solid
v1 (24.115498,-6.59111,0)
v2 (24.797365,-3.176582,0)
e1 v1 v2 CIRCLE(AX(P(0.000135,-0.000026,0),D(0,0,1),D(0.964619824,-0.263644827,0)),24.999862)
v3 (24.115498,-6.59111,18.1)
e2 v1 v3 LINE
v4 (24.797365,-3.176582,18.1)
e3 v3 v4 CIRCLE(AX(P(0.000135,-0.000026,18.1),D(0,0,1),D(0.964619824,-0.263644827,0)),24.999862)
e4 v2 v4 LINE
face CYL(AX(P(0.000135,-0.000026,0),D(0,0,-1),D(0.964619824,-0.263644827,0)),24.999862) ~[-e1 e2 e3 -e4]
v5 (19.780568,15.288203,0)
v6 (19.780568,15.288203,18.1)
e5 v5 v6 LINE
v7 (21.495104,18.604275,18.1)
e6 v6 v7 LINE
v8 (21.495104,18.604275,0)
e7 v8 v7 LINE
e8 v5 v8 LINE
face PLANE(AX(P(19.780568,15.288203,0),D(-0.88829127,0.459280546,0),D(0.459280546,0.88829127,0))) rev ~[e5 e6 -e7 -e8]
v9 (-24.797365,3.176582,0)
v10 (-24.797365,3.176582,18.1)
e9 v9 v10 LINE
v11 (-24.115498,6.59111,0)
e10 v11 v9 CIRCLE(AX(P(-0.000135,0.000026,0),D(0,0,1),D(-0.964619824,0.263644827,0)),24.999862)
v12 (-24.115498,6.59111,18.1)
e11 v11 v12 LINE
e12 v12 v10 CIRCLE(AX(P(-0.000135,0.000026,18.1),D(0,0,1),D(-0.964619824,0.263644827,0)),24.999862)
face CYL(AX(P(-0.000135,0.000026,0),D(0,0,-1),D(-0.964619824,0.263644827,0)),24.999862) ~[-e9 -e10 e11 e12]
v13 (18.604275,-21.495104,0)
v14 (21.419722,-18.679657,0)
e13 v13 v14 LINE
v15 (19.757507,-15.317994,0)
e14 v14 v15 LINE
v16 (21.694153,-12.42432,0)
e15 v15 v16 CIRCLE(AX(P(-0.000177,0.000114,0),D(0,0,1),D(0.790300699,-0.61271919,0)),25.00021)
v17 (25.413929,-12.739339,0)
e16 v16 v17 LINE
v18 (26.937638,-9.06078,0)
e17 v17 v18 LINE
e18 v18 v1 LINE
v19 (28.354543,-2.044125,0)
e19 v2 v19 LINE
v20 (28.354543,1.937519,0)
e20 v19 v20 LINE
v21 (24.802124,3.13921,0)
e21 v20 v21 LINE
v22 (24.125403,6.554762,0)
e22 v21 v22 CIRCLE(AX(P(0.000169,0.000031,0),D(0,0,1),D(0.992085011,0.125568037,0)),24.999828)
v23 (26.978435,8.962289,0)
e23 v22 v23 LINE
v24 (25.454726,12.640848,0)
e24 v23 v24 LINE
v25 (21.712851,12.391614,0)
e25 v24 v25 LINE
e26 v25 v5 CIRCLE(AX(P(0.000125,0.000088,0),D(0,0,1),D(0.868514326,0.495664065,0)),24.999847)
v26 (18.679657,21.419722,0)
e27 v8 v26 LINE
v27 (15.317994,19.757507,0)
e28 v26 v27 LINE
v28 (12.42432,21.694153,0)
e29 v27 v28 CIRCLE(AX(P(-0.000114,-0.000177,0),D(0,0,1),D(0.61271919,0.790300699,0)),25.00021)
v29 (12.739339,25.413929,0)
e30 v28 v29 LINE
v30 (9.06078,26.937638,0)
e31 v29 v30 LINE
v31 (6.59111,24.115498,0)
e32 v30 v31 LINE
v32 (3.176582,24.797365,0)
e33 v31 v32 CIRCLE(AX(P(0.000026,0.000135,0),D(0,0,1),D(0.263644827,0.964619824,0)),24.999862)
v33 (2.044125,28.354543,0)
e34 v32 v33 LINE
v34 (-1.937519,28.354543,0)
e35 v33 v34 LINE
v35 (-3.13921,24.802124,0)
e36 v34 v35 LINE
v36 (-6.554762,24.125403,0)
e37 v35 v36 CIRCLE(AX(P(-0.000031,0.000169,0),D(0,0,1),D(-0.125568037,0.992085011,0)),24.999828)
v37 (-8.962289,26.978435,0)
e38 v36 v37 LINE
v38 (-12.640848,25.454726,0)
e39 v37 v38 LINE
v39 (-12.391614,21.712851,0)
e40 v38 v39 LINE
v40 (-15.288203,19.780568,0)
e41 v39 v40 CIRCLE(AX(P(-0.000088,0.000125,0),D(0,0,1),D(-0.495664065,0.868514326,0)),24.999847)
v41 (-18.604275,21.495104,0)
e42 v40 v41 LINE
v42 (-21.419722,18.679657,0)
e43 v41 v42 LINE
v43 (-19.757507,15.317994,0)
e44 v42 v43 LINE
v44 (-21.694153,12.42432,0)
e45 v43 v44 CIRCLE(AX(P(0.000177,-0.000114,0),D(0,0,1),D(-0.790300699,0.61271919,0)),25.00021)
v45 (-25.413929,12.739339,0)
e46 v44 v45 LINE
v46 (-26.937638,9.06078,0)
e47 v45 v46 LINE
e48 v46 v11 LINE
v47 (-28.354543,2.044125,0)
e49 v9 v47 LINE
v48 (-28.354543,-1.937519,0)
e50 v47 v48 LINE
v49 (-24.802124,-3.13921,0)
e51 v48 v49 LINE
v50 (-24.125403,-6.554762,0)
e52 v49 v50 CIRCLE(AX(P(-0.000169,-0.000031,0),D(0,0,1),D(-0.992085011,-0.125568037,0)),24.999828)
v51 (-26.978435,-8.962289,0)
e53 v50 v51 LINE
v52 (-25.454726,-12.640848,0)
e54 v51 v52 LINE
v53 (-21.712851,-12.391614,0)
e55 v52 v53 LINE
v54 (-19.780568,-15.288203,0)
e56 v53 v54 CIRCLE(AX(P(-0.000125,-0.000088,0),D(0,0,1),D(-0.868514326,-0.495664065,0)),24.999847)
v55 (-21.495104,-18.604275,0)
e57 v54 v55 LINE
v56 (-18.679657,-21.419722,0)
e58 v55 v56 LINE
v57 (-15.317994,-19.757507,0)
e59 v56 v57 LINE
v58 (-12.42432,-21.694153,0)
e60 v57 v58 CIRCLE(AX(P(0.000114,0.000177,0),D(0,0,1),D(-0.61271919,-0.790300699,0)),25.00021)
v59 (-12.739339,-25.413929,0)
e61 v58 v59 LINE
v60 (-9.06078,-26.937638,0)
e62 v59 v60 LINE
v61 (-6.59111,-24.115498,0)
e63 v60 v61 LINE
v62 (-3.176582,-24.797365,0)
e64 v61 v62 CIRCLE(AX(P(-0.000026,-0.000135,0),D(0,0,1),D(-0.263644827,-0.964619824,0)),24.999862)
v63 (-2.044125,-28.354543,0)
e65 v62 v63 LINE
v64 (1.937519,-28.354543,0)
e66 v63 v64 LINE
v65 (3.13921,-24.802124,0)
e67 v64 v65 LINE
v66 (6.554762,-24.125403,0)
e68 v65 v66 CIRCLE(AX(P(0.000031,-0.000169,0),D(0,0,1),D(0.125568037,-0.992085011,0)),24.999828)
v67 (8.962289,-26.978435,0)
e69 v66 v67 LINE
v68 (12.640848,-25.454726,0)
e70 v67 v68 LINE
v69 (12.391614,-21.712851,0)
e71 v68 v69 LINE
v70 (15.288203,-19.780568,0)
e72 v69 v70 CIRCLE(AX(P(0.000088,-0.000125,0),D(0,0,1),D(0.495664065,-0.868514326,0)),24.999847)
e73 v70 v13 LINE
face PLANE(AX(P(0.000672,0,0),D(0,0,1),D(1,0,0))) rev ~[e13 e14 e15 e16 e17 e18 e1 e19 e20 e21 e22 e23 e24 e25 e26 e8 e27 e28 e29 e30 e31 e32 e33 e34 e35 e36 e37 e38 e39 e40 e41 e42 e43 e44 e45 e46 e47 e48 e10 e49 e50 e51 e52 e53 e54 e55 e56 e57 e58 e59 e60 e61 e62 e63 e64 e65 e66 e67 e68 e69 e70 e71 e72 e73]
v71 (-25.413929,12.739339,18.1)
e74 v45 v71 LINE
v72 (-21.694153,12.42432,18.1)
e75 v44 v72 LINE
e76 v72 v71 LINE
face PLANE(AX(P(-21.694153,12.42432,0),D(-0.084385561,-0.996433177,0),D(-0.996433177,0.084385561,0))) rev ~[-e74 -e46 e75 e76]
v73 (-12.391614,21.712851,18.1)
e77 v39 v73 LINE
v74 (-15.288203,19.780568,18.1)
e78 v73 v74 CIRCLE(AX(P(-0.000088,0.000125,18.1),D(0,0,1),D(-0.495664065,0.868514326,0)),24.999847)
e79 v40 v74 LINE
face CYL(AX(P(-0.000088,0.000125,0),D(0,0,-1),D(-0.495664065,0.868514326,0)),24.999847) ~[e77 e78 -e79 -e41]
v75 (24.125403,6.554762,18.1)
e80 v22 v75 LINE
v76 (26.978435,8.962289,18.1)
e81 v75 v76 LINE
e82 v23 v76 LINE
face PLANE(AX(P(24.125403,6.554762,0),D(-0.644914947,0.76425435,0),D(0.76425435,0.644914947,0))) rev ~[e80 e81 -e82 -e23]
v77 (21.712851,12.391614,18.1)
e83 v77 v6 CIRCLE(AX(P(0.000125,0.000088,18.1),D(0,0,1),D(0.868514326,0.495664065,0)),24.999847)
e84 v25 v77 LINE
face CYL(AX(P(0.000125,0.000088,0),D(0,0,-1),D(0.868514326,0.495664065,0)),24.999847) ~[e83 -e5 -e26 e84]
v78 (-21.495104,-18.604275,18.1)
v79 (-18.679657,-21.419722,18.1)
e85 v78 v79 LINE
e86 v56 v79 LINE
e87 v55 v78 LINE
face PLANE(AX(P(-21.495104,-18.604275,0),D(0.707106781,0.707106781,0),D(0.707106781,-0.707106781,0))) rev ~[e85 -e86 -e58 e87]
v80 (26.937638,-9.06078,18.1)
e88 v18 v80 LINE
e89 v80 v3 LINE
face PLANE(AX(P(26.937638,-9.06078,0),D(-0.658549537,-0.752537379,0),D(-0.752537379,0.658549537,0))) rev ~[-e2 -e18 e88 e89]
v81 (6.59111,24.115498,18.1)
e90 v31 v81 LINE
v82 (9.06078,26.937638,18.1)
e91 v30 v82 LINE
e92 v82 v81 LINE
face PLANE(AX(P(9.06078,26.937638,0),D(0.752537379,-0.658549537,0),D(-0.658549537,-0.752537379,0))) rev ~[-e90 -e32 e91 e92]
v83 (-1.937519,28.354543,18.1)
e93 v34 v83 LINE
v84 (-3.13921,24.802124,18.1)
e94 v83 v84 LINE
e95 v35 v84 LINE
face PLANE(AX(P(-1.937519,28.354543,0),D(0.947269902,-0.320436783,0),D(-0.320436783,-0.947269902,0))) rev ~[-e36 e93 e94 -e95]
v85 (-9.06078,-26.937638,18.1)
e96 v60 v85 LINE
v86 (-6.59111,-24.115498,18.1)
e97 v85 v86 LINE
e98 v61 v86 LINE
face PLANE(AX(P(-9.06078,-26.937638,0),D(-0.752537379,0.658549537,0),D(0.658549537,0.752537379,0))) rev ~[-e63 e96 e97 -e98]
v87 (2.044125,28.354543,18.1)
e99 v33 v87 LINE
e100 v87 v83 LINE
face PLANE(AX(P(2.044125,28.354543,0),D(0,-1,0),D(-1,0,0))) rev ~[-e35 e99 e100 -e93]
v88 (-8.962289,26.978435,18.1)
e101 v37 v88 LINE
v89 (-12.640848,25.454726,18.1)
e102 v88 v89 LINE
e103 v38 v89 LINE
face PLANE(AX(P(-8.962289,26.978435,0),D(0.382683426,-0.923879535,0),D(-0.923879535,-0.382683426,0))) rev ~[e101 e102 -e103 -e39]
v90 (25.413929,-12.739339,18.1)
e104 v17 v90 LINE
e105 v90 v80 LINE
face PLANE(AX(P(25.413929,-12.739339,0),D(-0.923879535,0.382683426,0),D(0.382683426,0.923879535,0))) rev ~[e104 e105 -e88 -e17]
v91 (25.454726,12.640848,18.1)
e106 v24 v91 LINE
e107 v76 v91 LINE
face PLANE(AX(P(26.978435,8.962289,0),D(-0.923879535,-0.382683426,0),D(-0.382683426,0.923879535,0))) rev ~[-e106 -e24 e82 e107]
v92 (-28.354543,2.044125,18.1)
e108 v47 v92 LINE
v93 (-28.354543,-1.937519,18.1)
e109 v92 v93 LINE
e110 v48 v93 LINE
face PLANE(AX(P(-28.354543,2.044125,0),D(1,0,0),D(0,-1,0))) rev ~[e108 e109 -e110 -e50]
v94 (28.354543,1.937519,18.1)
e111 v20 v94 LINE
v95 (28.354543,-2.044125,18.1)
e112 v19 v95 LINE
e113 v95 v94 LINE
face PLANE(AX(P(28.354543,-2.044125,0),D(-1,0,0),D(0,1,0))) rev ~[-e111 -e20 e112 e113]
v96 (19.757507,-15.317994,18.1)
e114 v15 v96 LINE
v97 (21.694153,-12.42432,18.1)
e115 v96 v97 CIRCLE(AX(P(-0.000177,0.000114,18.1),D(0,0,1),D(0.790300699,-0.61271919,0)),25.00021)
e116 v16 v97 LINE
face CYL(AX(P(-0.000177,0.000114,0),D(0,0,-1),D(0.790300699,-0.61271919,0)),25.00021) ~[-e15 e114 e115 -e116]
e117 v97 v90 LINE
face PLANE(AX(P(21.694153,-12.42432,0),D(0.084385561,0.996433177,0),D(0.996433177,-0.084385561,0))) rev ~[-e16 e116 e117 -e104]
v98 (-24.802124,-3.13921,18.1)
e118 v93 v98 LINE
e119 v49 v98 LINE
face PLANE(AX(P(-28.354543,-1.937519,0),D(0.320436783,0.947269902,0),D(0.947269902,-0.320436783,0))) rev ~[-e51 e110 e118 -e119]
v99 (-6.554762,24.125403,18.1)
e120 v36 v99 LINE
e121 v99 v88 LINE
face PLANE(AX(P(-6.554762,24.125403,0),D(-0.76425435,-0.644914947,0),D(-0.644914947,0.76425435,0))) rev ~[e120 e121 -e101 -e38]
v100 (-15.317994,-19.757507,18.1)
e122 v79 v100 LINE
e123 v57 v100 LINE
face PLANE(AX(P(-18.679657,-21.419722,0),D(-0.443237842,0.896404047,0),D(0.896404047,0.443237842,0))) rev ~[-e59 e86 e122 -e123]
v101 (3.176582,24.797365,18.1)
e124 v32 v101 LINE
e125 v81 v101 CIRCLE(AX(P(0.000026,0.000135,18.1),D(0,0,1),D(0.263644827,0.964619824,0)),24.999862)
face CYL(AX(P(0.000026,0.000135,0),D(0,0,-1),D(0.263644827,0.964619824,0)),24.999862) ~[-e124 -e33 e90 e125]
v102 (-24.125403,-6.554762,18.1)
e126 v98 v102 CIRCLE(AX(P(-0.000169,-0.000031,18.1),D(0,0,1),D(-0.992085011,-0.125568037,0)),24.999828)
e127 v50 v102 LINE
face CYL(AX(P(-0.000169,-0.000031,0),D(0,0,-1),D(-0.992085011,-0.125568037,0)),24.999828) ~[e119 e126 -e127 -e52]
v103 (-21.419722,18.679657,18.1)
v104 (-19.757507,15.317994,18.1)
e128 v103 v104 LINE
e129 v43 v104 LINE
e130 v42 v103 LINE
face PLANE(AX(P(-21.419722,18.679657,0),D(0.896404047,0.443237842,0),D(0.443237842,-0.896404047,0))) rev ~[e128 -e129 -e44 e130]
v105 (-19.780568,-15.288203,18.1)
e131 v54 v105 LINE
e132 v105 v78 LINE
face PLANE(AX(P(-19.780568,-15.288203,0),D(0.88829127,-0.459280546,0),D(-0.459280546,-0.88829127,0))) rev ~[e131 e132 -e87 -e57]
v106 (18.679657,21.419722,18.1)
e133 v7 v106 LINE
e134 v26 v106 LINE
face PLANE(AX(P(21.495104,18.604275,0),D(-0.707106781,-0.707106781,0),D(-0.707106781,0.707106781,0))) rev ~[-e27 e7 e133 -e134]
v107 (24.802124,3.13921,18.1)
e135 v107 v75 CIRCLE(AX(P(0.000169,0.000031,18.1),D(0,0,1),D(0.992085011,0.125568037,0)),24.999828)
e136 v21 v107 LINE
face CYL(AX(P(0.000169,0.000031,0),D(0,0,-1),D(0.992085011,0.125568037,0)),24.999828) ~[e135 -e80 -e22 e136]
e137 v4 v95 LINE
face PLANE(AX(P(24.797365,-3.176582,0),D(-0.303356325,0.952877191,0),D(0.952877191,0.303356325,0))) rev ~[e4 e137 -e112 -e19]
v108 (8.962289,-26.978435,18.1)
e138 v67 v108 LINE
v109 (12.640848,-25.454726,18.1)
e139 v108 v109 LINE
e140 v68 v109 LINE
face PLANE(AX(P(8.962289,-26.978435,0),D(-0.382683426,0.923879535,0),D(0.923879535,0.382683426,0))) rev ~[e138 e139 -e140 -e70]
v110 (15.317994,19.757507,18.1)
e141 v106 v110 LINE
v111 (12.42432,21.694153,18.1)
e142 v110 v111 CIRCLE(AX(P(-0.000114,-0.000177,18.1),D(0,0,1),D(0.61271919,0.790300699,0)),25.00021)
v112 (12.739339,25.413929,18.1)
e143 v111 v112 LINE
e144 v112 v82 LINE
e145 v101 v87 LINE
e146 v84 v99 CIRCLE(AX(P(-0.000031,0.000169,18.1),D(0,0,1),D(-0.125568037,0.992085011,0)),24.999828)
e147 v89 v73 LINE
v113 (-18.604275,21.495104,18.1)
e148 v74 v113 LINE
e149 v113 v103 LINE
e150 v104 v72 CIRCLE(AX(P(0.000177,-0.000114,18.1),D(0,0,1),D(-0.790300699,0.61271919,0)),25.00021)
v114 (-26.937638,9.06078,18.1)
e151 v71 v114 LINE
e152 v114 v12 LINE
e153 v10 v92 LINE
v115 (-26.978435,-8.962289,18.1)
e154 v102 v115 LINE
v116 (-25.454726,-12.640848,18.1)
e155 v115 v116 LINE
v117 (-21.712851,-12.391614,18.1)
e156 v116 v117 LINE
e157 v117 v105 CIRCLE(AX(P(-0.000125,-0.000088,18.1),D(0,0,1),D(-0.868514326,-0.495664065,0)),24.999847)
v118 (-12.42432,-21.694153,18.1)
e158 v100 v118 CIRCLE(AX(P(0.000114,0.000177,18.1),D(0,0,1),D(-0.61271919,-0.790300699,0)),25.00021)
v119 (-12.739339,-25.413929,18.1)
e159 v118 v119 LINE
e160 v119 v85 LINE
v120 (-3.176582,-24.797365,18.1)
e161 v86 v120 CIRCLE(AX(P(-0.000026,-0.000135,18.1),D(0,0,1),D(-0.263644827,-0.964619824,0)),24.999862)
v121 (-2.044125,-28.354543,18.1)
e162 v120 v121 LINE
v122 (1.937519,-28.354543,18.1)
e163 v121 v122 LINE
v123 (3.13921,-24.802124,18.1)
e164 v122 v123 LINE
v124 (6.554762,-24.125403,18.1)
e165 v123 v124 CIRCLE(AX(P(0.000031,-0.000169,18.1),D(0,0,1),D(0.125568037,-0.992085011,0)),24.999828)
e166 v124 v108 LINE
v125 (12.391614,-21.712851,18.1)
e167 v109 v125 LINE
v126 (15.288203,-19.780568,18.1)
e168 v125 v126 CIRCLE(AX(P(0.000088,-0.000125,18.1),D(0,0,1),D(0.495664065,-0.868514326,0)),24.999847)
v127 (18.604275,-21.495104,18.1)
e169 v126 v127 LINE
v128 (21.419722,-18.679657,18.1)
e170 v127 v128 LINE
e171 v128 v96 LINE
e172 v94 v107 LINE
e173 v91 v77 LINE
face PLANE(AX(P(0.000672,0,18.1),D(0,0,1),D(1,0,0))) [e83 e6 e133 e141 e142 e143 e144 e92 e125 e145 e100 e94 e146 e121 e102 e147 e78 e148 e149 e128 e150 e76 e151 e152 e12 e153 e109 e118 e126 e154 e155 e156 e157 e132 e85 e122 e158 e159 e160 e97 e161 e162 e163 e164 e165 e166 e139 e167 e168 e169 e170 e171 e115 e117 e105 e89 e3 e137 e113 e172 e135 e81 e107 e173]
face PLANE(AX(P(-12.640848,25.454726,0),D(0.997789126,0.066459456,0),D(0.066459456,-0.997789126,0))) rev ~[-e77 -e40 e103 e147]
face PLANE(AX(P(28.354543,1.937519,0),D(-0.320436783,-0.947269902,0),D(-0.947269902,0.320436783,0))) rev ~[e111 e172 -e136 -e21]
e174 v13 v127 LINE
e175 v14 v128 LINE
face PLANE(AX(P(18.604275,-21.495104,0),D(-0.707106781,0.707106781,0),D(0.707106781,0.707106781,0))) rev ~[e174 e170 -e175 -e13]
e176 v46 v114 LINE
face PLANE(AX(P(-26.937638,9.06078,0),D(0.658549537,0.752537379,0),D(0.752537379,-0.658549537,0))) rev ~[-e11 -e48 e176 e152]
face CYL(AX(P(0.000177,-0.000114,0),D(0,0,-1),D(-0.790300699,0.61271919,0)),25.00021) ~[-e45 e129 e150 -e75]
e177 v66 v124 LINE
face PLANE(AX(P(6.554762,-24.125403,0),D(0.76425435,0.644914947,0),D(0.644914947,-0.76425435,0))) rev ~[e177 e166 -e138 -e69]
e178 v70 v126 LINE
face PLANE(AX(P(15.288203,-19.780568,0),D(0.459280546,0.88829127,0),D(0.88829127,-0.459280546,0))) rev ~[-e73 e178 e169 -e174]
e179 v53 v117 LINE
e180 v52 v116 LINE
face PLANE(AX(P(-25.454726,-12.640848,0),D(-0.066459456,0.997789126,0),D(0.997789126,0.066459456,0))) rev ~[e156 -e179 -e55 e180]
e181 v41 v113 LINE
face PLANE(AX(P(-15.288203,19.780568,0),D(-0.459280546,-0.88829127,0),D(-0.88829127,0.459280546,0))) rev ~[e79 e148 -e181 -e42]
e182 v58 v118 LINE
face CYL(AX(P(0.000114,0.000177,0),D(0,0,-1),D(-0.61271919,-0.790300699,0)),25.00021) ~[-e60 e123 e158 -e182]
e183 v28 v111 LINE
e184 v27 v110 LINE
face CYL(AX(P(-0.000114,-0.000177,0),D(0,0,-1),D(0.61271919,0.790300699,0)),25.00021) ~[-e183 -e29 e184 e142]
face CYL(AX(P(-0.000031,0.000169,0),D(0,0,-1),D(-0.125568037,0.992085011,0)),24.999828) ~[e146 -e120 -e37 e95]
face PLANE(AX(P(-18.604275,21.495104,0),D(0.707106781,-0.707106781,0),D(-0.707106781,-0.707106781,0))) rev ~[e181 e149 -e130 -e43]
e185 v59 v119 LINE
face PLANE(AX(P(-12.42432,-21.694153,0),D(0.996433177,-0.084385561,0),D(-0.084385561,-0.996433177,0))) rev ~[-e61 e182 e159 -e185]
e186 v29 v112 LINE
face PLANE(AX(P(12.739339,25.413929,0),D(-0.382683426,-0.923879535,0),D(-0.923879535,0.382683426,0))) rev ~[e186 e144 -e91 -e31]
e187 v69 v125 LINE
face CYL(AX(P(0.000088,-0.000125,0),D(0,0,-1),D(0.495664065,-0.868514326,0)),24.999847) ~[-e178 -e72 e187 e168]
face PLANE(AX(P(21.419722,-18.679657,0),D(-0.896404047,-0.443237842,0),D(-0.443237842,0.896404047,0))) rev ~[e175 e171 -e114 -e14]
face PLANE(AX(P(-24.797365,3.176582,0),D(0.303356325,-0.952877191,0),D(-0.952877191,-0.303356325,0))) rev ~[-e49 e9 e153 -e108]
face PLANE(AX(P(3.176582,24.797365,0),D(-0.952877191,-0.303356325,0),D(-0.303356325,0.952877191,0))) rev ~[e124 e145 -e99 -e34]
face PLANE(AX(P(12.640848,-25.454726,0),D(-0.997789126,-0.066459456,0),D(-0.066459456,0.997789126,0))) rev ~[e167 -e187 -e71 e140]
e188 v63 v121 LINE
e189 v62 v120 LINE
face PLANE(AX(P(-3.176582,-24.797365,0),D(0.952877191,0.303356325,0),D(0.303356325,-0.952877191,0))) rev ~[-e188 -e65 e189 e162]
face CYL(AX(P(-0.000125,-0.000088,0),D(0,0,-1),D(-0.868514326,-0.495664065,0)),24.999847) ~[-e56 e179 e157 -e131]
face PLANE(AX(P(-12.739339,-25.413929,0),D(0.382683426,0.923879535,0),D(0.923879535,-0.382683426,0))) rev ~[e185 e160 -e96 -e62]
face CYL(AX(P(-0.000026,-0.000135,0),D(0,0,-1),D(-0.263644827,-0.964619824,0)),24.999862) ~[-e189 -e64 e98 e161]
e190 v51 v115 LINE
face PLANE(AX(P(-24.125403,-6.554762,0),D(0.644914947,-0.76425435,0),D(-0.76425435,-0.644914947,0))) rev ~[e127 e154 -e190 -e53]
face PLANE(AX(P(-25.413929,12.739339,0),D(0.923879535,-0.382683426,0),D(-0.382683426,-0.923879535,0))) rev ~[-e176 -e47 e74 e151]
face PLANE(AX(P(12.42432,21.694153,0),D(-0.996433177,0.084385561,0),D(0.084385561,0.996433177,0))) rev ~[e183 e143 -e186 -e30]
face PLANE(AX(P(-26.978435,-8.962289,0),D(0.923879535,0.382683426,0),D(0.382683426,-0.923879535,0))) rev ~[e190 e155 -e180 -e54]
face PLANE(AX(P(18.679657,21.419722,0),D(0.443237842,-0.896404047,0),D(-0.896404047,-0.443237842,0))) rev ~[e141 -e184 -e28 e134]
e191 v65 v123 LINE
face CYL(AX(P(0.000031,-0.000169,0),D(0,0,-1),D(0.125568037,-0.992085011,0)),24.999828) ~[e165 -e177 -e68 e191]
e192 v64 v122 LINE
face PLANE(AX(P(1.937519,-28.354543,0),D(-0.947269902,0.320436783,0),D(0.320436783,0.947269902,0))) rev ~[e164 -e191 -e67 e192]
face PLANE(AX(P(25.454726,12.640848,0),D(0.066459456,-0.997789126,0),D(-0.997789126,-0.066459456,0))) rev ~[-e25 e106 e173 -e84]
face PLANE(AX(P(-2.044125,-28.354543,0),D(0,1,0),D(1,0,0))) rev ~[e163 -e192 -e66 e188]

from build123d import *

# Parameters (mm, degrees)
F1_DEPTH = 18.1


with BuildPart() as f1:
    # F0 (on Top) → F1 (new body)
    with BuildSketch(Plane.XY):
        with BuildLine():
            ThreePointArc((24.797365, -3.176582), (24.94929, -1.591519), (25, 0))
            ThreePointArc((25, 0), (24.950482, 1.57272), (24.802124, 3.13921))
            ThreePointArc((24.802124, 3.13921), (24.5233, 4.858782), (24.125403, 6.554762))
            ThreePointArc((24.125403, 6.554762), (23.10419, 9.54968), (21.712851, 12.391614))
            ThreePointArc((21.712851, 12.391614), (20.7972, 13.87359), (19.780568, 15.288203))
            ThreePointArc((19.780568, 15.288203), (17.690984, 17.664345), (15.317994, 19.757507))
            ThreePointArc((15.317994, 19.757507), (13.904914, 20.776269), (12.42432, 21.694153))
            ThreePointArc((12.42432, 21.694153), (9.584486, 23.089773), (6.59111, 24.115498))
            ThreePointArc((6.59111, 24.115498), (4.895732, 24.51595), (3.176582, 24.797365))
            ThreePointArc((3.176582, 24.797365), (0.018837, 24.999993), (-3.13921, 24.802124))
            ThreePointArc((-3.13921, 24.802124), (-4.858782, 24.5233), (-6.554762, 24.125403))
            ThreePointArc((-6.554762, 24.125403), (-9.54968, 23.10419), (-12.391614, 21.712851))
            ThreePointArc((-12.391614, 21.712851), (-13.87359, 20.7972), (-15.288203, 19.780568))
            ThreePointArc((-15.288203, 19.780568), (-17.664345, 17.690984), (-19.757507, 15.317994))
            ThreePointArc((-19.757507, 15.317994), (-20.776269, 13.904914), (-21.694153, 12.42432))
            ThreePointArc((-21.694153, 12.42432), (-23.089773, 9.584486), (-24.115498, 6.59111))
            ThreePointArc((-24.115498, 6.59111), (-24.51595, 4.895732), (-24.797365, 3.176582))
            ThreePointArc((-24.797365, 3.176582), (-24.999993, 0.018837), (-24.802124, -3.13921))
            ThreePointArc((-24.802124, -3.13921), (-24.5233, -4.858782), (-24.125403, -6.554762))
            ThreePointArc((-24.125403, -6.554762), (-23.10419, -9.54968), (-21.712851, -12.391614))
            ThreePointArc((-21.712851, -12.391614), (-20.7972, -13.87359), (-19.780568, -15.288203))
            ThreePointArc((-19.780568, -15.288203), (-17.690984, -17.664345), (-15.317994, -19.757507))
            ThreePointArc((-15.317994, -19.757507), (-13.904914, -20.776269), (-12.42432, -21.694153))
            ThreePointArc((-12.42432, -21.694153), (-9.584486, -23.089773), (-6.59111, -24.115498))
            ThreePointArc((-6.59111, -24.115498), (-4.895732, -24.51595), (-3.176582, -24.797365))
            ThreePointArc((-3.176582, -24.797365), (-0.018837, -24.999993), (3.13921, -24.802124))
            ThreePointArc((3.13921, -24.802124), (4.858782, -24.5233), (6.554762, -24.125403))
            ThreePointArc((6.554762, -24.125403), (9.54968, -23.10419), (12.391614, -21.712851))
            ThreePointArc((12.391614, -21.712851), (13.87359, -20.7972), (15.288203, -19.780568))
            ThreePointArc((15.288203, -19.780568), (17.664345, -17.690984), (19.757507, -15.317994))
            ThreePointArc((19.757507, -15.317994), (20.776269, -13.904914), (21.694153, -12.42432))
            ThreePointArc((21.694153, -12.42432), (23.089773, -9.584486), (24.115498, -6.59111))
            ThreePointArc((24.115498, -6.59111), (24.51595, -4.895732), (24.797365, -3.176582))
        make_face()
        with BuildLine():
            ThreePointArc((24.802124, 3.13921), (24.950482, 1.57272), (25, 0))
            ThreePointArc((25, 0), (24.94929, -1.591519), (24.797365, -3.176582))
            Line((24.797365, -3.176582), (28.354543, -2.044125))
            Line((28.354543, -2.044125), (28.354543, 1.937519))
            Line((28.354543, 1.937519), (24.802124, 3.13921))
        make_face()
        with BuildLine():
            ThreePointArc((21.712851, 12.391614), (23.10419, 9.54968), (24.125403, 6.554762))
            Line((24.125403, 6.554762), (26.978435, 8.962289))
            Line((26.978435, 8.962289), (25.454726, 12.640848))
            Line((25.454726, 12.640848), (21.712851, 12.391614))
        make_face()
        with BuildLine():
            Line((26.937638, -9.06078), (24.115498, -6.59111))
            ThreePointArc((24.115498, -6.59111), (23.089773, -9.584486), (21.694153, -12.42432))
            Line((21.694153, -12.42432), (25.413929, -12.739339))
            Line((25.413929, -12.739339), (26.937638, -9.06078))
        make_face()
        with BuildLine():
            ThreePointArc((15.317994, 19.757507), (17.690984, 17.664345), (19.780568, 15.288203))
            Line((19.780568, 15.288203), (21.495104, 18.604275))
            Line((21.495104, 18.604275), (18.679657, 21.419722))
            Line((18.679657, 21.419722), (15.317994, 19.757507))
        make_face()
        with BuildLine():
            Line((21.419722, -18.679657), (19.757507, -15.317994))
            ThreePointArc((19.757507, -15.317994), (17.664345, -17.690984), (15.288203, -19.780568))
            Line((15.288203, -19.780568), (18.604275, -21.495104))
            Line((18.604275, -21.495104), (21.419722, -18.679657))
        make_face()
        with BuildLine():
            ThreePointArc((6.59111, 24.115498), (9.584486, 23.089773), (12.42432, 21.694153))
            Line((12.42432, 21.694153), (12.739339, 25.413929))
            Line((12.739339, 25.413929), (9.06078, 26.937638))
            Line((9.06078, 26.937638), (6.59111, 24.115498))
        make_face()
        with BuildLine():
            Line((12.640848, -25.454726), (12.391614, -21.712851))
            ThreePointArc((12.391614, -21.712851), (9.54968, -23.10419), (6.554762, -24.125403))
            Line((6.554762, -24.125403), (8.962289, -26.978435))
            Line((8.962289, -26.978435), (12.640848, -25.454726))
        make_face()
        with BuildLine():
            ThreePointArc((-3.13921, 24.802124), (0.018837, 24.999993), (3.176582, 24.797365))
            Line((3.176582, 24.797365), (2.044125, 28.354543))
            Line((2.044125, 28.354543), (-1.937519, 28.354543))
            Line((-1.937519, 28.354543), (-3.13921, 24.802124))
        make_face()
        with BuildLine():
            Line((1.937519, -28.354543), (3.13921, -24.802124))
            ThreePointArc((3.13921, -24.802124), (-0.018837, -24.999993), (-3.176582, -24.797365))
            Line((-3.176582, -24.797365), (-2.044125, -28.354543))
            Line((-2.044125, -28.354543), (1.937519, -28.354543))
        make_face()
        with BuildLine():
            ThreePointArc((-12.391614, 21.712851), (-9.54968, 23.10419), (-6.554762, 24.125403))
            Line((-6.554762, 24.125403), (-8.962289, 26.978435))
            Line((-8.962289, 26.978435), (-12.640848, 25.454726))
            Line((-12.640848, 25.454726), (-12.391614, 21.712851))
        make_face()
        with BuildLine():
            Line((-9.06078, -26.937638), (-6.59111, -24.115498))
            ThreePointArc((-6.59111, -24.115498), (-9.584486, -23.089773), (-12.42432, -21.694153))
            Line((-12.42432, -21.694153), (-12.739339, -25.413929))
            Line((-12.739339, -25.413929), (-9.06078, -26.937638))
        make_face()
        with BuildLine():
            ThreePointArc((-19.757507, 15.317994), (-17.664345, 17.690984), (-15.288203, 19.780568))
            Line((-15.288203, 19.780568), (-18.604275, 21.495104))
            Line((-18.604275, 21.495104), (-21.419722, 18.679657))
            Line((-21.419722, 18.679657), (-19.757507, 15.317994))
        make_face()
        with BuildLine():
            Line((-18.679657, -21.419722), (-15.317994, -19.757507))
            ThreePointArc((-15.317994, -19.757507), (-17.690984, -17.664345), (-19.780568, -15.288203))
            Line((-19.780568, -15.288203), (-21.495104, -18.604275))
            Line((-21.495104, -18.604275), (-18.679657, -21.419722))
        make_face()
        with BuildLine():
            ThreePointArc((-24.115498, 6.59111), (-23.089773, 9.584486), (-21.694153, 12.42432))
            Line((-21.694153, 12.42432), (-25.413929, 12.739339))
            Line((-25.413929, 12.739339), (-26.937638, 9.06078))
            Line((-26.937638, 9.06078), (-24.115498, 6.59111))
        make_face()
        with BuildLine():
            Line((-25.454726, -12.640848), (-21.712851, -12.391614))
            ThreePointArc((-21.712851, -12.391614), (-23.10419, -9.54968), (-24.125403, -6.554762))
            Line((-24.125403, -6.554762), (-26.978435, -8.962289))
            Line((-26.978435, -8.962289), (-25.454726, -12.640848))
        make_face()
        with BuildLine():
            ThreePointArc((-24.802124, -3.13921), (-24.999993, 0.018837), (-24.797365, 3.176582))
            Line((-24.797365, 3.176582), (-28.354543, 2.044125))
            Line((-28.354543, 2.044125), (-28.354543, -1.937519))
            Line((-28.354543, -1.937519), (-24.802124, -3.13921))
        make_face()
    extrude(amount=F1_DEPTH)


solid = f1.part
